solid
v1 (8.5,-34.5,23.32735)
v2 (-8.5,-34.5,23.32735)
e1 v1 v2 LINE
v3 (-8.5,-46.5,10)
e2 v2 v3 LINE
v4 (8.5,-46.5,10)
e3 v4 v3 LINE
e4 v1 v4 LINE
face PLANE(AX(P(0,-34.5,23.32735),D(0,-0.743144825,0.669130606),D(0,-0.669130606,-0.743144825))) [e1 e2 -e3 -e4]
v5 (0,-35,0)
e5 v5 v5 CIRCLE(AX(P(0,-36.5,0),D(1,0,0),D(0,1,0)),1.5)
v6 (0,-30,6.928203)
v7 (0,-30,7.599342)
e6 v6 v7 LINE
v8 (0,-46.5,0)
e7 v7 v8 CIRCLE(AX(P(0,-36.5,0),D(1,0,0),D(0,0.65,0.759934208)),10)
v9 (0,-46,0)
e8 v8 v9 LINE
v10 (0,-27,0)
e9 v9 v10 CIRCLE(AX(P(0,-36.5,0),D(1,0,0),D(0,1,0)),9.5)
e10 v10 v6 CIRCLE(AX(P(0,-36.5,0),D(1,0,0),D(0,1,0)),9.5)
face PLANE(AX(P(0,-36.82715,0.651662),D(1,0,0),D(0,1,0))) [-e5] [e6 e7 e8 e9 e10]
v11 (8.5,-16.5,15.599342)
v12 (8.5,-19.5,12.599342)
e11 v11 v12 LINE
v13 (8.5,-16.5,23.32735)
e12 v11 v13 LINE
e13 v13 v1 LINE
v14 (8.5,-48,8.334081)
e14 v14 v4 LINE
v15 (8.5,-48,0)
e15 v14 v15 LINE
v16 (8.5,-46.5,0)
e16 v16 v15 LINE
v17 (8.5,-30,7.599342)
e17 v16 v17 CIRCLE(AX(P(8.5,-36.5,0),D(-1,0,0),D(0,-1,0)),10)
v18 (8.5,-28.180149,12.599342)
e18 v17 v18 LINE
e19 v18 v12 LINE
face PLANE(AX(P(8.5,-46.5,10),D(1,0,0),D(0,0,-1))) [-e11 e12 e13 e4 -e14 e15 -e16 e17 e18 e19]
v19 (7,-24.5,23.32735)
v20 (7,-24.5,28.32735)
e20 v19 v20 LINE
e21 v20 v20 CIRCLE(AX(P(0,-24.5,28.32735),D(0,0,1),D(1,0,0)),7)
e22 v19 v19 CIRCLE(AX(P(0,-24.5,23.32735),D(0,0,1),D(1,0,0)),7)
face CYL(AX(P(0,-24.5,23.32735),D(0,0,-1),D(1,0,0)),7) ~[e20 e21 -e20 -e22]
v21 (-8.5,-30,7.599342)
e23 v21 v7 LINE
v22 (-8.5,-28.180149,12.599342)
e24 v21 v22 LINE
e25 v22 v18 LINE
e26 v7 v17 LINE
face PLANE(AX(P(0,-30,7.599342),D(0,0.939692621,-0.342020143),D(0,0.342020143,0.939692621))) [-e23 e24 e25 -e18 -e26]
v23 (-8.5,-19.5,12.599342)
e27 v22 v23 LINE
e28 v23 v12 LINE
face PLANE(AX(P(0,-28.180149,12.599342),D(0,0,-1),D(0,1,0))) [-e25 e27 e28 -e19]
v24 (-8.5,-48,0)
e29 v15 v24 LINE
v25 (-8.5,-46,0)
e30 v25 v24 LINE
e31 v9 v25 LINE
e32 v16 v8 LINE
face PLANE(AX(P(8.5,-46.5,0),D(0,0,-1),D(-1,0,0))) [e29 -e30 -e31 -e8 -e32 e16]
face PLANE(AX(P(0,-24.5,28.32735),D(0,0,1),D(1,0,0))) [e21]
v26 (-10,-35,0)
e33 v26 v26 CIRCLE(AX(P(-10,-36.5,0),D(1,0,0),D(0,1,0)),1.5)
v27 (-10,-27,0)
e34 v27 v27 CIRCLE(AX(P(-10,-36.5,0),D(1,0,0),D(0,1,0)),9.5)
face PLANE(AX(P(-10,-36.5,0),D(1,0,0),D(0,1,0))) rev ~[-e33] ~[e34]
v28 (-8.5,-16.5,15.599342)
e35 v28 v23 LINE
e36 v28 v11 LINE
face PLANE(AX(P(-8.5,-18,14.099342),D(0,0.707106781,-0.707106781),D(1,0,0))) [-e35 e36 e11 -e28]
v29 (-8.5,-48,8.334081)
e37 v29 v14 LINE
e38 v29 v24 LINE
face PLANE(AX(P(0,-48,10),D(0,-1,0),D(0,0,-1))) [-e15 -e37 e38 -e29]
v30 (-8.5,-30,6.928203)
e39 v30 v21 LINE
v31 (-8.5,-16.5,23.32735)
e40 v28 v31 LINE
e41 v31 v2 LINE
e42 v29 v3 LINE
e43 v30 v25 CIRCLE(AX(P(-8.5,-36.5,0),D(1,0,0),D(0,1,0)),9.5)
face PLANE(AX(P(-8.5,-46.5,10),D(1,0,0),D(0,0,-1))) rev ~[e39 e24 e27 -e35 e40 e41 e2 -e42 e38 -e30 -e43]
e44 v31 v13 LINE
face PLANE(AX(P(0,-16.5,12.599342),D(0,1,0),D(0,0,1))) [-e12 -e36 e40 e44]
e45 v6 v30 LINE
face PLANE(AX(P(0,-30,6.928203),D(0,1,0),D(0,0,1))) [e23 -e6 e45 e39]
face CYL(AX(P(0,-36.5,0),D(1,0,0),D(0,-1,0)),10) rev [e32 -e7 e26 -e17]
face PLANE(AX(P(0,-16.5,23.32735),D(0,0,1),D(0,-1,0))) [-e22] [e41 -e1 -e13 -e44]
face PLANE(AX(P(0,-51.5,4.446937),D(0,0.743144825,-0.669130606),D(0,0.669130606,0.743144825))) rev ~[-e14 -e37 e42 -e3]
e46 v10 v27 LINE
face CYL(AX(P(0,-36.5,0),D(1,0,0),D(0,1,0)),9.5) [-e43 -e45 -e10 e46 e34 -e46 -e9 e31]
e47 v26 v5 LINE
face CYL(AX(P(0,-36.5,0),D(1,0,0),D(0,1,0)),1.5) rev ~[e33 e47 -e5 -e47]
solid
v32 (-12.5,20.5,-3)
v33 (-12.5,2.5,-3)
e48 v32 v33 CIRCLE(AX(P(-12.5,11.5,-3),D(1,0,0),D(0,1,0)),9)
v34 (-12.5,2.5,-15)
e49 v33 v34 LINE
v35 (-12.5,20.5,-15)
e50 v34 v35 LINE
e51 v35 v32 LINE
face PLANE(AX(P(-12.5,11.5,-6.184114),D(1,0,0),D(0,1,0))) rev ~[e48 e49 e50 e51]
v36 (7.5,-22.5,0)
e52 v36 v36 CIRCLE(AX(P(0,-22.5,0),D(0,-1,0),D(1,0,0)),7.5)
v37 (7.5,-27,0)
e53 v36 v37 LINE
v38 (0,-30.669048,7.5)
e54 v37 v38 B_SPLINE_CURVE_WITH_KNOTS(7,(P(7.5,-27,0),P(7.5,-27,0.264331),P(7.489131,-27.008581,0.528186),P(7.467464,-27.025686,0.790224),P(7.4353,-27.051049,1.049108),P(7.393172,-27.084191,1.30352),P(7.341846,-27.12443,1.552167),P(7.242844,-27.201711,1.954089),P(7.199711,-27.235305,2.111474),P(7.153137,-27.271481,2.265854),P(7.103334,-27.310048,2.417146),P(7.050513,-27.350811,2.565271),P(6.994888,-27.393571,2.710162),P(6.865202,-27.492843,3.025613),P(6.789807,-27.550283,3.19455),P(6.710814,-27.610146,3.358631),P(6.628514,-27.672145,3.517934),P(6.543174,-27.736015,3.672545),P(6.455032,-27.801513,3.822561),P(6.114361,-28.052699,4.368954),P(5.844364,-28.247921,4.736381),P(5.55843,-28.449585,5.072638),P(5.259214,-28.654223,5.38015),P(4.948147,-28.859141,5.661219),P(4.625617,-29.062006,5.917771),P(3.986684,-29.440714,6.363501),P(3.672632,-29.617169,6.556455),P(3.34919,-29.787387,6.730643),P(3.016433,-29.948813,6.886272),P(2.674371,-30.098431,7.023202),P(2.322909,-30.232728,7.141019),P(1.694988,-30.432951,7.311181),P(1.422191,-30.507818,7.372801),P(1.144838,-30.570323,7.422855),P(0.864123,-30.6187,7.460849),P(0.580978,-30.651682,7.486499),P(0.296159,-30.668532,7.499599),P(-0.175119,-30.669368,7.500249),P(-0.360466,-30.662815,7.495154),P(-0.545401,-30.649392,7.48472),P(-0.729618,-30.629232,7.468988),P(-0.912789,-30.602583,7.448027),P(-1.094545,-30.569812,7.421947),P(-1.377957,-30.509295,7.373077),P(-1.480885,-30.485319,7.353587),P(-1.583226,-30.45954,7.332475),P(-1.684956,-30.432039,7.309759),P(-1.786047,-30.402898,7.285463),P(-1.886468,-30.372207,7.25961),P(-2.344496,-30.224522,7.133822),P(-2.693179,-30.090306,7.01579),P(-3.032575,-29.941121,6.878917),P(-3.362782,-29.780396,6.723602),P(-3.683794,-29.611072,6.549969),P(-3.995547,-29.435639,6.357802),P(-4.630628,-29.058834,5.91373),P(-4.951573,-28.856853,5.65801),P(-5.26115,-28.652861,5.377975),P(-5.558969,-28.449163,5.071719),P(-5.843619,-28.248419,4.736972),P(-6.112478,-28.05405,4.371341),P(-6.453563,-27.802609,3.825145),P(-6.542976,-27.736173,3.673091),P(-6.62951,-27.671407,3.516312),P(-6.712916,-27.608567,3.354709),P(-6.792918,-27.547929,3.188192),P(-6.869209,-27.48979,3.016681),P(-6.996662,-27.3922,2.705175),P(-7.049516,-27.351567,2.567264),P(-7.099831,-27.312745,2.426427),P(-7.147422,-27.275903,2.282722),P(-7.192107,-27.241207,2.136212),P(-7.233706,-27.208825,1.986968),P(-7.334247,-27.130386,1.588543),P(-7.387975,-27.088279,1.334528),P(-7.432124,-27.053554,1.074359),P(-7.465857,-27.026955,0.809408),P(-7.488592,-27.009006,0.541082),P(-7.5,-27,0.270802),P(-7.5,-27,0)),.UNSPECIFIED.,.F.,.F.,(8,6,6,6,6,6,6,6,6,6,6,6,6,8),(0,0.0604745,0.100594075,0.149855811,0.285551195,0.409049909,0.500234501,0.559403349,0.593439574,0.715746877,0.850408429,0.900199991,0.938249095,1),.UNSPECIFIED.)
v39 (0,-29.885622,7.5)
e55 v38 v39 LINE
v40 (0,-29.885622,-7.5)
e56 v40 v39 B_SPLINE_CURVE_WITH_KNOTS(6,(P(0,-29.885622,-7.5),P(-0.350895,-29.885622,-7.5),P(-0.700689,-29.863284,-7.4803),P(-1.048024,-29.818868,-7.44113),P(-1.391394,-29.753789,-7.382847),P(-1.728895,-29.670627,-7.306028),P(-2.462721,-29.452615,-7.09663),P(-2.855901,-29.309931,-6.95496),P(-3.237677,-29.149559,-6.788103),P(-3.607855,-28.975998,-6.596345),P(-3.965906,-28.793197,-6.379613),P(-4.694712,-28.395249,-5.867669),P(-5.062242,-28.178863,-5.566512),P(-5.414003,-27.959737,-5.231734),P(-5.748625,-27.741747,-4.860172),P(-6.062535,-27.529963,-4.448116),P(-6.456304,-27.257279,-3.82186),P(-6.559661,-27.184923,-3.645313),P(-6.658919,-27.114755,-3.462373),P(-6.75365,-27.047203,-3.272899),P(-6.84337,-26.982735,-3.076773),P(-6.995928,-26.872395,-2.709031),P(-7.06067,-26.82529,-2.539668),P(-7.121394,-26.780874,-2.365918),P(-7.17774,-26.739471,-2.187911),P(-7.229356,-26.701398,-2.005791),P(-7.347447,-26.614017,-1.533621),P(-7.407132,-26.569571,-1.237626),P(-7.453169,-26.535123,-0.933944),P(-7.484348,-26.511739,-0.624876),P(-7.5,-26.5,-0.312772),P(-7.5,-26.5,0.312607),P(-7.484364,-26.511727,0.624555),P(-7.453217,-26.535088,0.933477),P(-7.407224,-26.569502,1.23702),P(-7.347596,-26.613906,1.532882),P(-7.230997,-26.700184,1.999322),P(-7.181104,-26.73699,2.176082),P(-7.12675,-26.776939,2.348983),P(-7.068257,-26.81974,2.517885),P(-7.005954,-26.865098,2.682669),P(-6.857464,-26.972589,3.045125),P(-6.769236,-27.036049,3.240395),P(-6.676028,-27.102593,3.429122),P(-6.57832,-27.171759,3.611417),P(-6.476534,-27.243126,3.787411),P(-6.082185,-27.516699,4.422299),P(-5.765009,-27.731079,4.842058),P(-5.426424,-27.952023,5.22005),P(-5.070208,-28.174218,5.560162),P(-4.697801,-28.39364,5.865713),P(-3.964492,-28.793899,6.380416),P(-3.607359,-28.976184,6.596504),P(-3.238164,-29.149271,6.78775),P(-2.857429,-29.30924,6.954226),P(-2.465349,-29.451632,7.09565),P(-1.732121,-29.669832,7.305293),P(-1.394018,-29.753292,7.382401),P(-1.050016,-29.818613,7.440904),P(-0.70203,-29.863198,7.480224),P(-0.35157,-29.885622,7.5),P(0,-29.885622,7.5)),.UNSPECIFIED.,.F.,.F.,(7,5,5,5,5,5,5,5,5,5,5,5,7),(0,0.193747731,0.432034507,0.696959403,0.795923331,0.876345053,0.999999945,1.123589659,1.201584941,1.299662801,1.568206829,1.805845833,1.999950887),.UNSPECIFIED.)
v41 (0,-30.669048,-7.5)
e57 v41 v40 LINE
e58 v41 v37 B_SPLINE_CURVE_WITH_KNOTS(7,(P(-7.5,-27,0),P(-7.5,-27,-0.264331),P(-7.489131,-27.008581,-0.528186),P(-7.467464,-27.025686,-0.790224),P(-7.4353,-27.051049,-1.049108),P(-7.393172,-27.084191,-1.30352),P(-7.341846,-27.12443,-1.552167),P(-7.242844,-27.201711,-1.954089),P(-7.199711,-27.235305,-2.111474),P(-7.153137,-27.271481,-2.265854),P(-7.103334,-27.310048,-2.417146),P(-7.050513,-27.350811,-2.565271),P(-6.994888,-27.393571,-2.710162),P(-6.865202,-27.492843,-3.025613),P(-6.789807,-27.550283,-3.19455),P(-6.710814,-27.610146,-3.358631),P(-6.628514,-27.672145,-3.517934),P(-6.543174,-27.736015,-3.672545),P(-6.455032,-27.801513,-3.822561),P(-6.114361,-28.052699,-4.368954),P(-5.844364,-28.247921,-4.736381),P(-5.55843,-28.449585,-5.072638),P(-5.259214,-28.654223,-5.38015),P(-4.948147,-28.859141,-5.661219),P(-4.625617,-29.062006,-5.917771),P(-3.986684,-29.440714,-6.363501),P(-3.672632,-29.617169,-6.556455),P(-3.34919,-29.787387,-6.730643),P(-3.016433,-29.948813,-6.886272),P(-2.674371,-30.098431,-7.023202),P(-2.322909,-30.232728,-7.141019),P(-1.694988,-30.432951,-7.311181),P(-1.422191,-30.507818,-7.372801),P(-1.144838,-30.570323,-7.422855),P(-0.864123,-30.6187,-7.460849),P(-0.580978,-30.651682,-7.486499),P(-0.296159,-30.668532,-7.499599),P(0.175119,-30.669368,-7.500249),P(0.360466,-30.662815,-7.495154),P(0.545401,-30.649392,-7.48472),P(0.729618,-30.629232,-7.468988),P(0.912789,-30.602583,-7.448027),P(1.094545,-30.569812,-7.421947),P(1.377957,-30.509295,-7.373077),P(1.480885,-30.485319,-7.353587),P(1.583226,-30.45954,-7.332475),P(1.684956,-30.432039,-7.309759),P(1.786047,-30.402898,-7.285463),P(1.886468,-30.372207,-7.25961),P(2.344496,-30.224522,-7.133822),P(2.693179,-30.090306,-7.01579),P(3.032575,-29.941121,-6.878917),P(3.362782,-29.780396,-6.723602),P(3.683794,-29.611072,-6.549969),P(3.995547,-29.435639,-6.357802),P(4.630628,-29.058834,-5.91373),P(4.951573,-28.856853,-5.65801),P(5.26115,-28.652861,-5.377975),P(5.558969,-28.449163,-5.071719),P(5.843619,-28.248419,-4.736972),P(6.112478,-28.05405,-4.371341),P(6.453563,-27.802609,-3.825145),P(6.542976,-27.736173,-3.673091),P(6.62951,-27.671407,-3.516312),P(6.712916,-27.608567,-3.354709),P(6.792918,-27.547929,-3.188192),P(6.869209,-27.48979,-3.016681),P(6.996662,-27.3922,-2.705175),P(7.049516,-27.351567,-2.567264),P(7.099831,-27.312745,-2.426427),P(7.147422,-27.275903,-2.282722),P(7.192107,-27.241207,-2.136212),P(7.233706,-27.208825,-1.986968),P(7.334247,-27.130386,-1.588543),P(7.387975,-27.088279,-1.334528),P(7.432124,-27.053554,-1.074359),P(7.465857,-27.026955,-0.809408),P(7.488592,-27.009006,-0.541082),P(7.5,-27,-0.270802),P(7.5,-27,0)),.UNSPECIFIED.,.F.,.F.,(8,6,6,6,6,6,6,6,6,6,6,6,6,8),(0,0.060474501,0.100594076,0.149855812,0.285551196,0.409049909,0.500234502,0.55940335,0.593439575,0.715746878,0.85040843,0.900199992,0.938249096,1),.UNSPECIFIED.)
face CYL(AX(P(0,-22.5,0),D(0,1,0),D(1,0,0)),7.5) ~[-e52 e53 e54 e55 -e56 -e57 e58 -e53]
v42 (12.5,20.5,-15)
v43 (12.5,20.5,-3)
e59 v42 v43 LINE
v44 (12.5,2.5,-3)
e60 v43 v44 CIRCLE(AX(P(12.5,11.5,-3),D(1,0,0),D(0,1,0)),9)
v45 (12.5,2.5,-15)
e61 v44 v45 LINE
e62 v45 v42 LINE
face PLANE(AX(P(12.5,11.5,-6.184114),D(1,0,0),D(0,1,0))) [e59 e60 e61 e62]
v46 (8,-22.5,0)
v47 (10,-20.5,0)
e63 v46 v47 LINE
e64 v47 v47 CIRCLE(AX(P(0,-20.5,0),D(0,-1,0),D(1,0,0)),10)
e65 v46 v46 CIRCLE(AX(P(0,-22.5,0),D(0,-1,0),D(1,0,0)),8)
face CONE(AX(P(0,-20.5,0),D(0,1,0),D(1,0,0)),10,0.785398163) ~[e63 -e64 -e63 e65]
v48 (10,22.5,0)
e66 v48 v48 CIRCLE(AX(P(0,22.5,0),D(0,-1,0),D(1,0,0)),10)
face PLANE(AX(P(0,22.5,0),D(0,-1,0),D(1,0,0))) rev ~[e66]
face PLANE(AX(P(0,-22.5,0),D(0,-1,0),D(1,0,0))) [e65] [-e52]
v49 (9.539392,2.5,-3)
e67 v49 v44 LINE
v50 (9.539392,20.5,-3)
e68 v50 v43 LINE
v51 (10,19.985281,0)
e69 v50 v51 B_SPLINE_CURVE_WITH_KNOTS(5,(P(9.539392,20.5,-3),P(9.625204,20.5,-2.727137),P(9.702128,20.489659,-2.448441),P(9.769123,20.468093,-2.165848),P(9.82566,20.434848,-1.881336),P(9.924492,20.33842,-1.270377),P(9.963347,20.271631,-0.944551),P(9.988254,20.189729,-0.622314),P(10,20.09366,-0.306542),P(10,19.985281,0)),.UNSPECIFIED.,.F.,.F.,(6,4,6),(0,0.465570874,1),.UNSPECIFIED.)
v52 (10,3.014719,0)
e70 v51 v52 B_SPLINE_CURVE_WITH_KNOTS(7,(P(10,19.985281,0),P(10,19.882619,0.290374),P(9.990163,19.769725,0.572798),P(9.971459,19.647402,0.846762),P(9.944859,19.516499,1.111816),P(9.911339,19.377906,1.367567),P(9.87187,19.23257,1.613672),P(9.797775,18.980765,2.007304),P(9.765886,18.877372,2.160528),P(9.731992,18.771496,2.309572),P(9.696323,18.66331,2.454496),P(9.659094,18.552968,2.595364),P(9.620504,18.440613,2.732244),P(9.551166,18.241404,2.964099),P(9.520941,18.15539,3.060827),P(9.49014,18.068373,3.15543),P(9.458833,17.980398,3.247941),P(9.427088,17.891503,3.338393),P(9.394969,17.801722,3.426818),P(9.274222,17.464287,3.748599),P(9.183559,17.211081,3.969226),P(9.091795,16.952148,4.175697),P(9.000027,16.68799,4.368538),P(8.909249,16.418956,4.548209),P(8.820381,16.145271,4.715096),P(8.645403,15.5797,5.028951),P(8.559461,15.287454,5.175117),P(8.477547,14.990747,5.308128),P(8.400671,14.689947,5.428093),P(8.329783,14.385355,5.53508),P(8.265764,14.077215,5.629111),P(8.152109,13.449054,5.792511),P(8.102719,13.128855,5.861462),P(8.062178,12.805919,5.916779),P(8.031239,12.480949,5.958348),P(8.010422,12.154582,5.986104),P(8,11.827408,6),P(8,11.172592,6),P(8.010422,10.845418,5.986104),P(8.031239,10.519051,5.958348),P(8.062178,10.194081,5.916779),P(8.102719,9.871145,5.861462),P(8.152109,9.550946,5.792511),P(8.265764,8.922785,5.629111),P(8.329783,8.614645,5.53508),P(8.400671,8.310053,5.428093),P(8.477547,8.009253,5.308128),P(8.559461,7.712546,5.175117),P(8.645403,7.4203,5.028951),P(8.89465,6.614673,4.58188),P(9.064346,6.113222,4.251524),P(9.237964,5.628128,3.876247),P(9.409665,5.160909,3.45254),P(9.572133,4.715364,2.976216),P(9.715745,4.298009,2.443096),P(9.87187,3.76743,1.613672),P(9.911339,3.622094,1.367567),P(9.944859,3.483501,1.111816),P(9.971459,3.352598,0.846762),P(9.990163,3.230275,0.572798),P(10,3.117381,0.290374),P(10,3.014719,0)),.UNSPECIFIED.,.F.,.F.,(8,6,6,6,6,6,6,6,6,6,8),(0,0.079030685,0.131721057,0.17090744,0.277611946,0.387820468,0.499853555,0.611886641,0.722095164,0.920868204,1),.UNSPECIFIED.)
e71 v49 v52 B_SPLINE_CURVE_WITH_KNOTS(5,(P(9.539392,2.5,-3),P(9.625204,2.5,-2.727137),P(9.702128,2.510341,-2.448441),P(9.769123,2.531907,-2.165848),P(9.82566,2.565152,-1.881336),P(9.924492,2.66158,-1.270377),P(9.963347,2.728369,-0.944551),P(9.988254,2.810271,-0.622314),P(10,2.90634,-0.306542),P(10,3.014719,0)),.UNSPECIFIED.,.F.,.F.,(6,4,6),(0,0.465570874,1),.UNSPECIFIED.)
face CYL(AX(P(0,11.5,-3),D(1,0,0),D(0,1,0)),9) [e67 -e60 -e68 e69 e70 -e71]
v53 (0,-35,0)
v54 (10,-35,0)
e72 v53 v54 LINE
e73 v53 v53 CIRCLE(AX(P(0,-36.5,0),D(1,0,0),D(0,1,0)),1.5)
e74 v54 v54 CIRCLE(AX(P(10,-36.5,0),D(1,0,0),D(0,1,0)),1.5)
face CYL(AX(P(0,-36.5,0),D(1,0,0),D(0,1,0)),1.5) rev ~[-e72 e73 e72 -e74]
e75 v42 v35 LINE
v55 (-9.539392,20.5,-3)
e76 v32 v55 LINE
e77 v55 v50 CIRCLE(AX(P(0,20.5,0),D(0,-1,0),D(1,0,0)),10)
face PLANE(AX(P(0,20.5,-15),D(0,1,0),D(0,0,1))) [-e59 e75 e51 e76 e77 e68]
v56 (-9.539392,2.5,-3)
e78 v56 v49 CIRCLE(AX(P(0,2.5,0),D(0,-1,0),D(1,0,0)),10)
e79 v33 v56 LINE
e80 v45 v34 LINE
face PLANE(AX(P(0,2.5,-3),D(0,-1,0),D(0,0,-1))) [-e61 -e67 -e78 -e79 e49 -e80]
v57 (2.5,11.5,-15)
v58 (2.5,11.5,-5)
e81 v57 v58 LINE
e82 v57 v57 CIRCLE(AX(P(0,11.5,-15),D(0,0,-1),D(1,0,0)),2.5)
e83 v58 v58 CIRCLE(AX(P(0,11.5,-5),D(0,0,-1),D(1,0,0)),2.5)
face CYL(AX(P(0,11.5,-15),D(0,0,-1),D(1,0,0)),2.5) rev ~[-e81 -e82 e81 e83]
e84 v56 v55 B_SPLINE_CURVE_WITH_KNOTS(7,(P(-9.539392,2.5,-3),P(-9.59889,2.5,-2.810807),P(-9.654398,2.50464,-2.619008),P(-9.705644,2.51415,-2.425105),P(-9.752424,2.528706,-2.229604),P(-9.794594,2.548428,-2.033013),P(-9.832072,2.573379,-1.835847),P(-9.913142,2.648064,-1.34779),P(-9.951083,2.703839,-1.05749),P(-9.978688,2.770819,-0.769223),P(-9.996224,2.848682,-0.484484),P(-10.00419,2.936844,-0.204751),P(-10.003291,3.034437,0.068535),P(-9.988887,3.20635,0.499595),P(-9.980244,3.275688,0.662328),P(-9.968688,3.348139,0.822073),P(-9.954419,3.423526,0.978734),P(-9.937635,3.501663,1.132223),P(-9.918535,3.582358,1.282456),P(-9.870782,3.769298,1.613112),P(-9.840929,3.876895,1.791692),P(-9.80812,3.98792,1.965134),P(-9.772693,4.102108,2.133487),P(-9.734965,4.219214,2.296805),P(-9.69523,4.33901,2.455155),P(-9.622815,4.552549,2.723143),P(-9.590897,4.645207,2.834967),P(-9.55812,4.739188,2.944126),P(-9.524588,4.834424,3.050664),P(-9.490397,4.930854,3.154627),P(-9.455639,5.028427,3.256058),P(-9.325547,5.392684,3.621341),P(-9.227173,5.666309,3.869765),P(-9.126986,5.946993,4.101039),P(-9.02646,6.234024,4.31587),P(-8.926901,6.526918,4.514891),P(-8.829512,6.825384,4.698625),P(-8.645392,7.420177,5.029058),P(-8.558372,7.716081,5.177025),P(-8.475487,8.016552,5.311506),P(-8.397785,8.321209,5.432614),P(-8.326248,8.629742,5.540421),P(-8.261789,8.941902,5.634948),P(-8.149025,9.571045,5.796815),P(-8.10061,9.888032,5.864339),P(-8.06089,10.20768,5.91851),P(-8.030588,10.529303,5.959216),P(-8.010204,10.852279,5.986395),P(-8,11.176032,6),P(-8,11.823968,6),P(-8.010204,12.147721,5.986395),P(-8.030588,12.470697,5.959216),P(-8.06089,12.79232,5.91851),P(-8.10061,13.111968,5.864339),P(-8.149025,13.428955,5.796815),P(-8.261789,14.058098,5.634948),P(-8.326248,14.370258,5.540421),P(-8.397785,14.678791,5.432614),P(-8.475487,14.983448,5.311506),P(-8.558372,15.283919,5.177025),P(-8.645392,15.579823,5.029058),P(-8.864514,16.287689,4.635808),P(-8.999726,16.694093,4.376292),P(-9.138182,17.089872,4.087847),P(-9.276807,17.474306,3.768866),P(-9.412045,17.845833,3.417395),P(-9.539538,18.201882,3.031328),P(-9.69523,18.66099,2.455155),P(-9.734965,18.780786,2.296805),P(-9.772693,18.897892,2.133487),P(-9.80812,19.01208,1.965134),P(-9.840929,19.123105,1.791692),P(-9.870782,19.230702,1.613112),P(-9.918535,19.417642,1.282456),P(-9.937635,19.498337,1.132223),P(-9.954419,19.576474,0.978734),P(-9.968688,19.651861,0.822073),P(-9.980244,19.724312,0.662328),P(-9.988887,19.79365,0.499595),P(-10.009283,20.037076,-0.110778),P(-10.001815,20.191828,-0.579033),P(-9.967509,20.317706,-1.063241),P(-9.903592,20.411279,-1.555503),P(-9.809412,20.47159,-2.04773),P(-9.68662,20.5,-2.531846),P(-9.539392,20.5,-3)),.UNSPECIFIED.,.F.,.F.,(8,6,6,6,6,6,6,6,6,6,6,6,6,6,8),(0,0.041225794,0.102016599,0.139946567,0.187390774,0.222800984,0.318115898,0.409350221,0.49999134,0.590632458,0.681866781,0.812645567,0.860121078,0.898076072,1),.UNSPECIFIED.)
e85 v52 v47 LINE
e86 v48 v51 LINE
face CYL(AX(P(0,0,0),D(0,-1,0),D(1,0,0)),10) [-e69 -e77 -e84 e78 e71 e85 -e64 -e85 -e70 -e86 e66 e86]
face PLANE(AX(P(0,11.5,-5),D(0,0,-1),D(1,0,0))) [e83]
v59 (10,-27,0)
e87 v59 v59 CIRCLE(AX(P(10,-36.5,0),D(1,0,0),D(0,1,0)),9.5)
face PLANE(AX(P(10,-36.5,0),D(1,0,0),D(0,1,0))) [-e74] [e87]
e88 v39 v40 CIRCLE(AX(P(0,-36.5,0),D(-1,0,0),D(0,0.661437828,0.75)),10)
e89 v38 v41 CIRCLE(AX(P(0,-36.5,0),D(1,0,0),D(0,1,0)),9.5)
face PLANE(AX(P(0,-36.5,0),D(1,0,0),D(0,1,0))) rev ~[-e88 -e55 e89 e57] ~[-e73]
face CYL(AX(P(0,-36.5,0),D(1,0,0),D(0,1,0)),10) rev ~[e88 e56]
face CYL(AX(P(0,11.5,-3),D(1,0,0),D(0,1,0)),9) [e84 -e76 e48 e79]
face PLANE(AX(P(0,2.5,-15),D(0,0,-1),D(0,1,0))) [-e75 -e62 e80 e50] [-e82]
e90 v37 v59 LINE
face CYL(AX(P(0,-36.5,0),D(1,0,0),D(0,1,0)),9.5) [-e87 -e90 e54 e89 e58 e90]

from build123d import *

# Parameters (mm, degrees)
F0_R      = 10
F1_DEPTH  = 22.5
F2_R      = 7.5
F3_DEPTH  = 10
F4_R      = 9.5
F5_DEPTH  = 10
F6_SIZE   = 2
F8_DEPTH  = 8.5
F9_R      = 7
F10_DEPTH = 5
F11_R     = 10
F12_DEPTH = 25
F13_R     = 9.5
F14_DEPTH = 10
F16_DEPTH = 8.5
F17_DEPTH = 1.5
F19_DEPTH = 12.5
F20_R     = 1.5
F21_DEPTH = 12.5
F23_DEPTH = 12.5
F24_R     = 2.5
F25_DEPTH = 10
F26_SIZE  = 3


with BuildPart() as f1:
    # F0 (on Front) → F1 (new body, symmetric)
    with BuildSketch(Plane.XZ):
        Circle(F0_R)
    extrude(amount=F1_DEPTH, both=True)

    # F2 (on face) → F3 (join)
    with BuildSketch(Plane.XZ.offset(22.5)):
        Circle(F2_R)
    extrude(amount=F3_DEPTH)

    # F4 (on Right) → F5 (join, symmetric)
    with BuildSketch(Plane.YZ):
        with Locations((-36.5, 0)):
            Circle(F4_R)
    extrude(amount=F5_DEPTH, both=True)

    # F6
    f6_edges = [f1.edges().sort_by_distance(p)[0] for p in [
        (-10, -22.5, 0),
    ]]
    chamfer(f6_edges, length=F6_SIZE)

    # F11 (on Right) → F12 (cut)
    with BuildSketch(Plane.YZ):
        with Locations((-36.5, 0)):
            Circle(F11_R)
    extrude(amount=-F12_DEPTH, mode=Mode.SUBTRACT)


with BuildPart() as f8:
    # F7 (on Right) → F8 (new body, symmetric)
    with BuildSketch(Plane.YZ):
        with BuildLine():
            ThreePointArc((-46.5, 0), (-40.6833001327, 9.0829510623), (-30, 7.5993420768))
            Line((-30, 7.5993420768), (-28.1801488287, 12.5993420768))
            Line((-28.1801488287, 12.5993420768), (-16.5, 12.5993420768))
            Line((-16.5, 12.5993420768), (-16.5, 23.327350178))
            Line((-16.5, 23.327350178), (-34.5, 23.327350178))
            Line((-34.5, 23.327350178), (-46.5, 10))
            Line((-46.5, 10), (-46.5, 0))
        make_face()
    extrude(amount=F8_DEPTH, both=True)

    # F9 (on face) → F10 (join)
    with BuildSketch(Plane.XY.offset(23.327350178)):
        with Locations((0, -24.5)):
            Circle(F9_R)
    extrude(amount=F10_DEPTH)

    # F17 (add): a face of the model
    f17_faces = [f8.faces().sort_by_distance(p)[0] for p in [
        (0, -46.5, 5),
    ]]


with BuildPart() as f14:
    # F13 (on Right) → F14 (new body)
    with BuildSketch(Plane.YZ):
        with Locations((-36.5, 0)):
            Circle(F13_R)
    extrude(amount=-F14_DEPTH)

    # F15 (on Right) → F16 (join, through all)
    with BuildSketch(Plane.YZ):
        with BuildLine():
            Line((-30, 6.9282032303), (-30, 7.5993420768))
            ThreePointArc((-30, 7.5993420768), (-40.6833001327, 9.0829510623), (-46.5, 0))
            Line((-46.5, 0), (-46, 0))
            ThreePointArc((-46, 0), (-32.7250827824, -8.7177978871), (-30, 6.9282032303))
        make_face()
    extrude(amount=-F16_DEPTH)


with BuildPart() as f8_1:
    add(f8.part)

    add(f14.part)  # F17 merges F14
    extrude(f17_faces, amount=F17_DEPTH)

    # F18 (on Right) → F19 (cut, symmetric)
    with BuildSketch(Plane.YZ):
        Polygon((-51.5, 4.4469374259), (-46.5, 10), (-51.5, 10), align=None)
    extrude(amount=F19_DEPTH, both=True, mode=Mode.SUBTRACT)


with BuildPart() as f21_tool:
    # F20 (on Right) → F21 (new body, symmetric)
    with BuildSketch(Plane.YZ):
        with Locations((-36.5, 0)):
            Circle(F20_R)
    extrude(amount=F21_DEPTH, both=True)


with BuildPart() as f1_1:
    add(f1.part)

    # F21: cut by f21_tool
    add(f21_tool.part, mode=Mode.SUBTRACT)

    # F22 (on Right) → F23 (join, symmetric)
    with BuildSketch(Plane.YZ):
        with BuildLine():
            Line((20.5, -15), (20.5, -3))
            ThreePointArc((20.5, -3), (11.5, 6), (2.5, -3))
            Line((2.5, -3), (2.5, -15))
            Line((2.5, -15), (20.5, -15))
        make_face()
    extrude(amount=F23_DEPTH, both=True)

    # F24 (on face) → F25 (cut)
    with BuildSketch(Plane(origin=(0, 0, -15), x_dir=(1, 0, 0), z_dir=(0, 0, -1))):
        with Locations((0, -11.5)):
            Circle(F24_R)
    extrude(amount=-F25_DEPTH, mode=Mode.SUBTRACT)


with BuildPart() as f8_2:
    add(f8_1.part)

    # F21: cut by f21_tool
    add(f21_tool.part, mode=Mode.SUBTRACT)

    # F26
    f26_edges = [f8_2.edges().sort_by_distance(p)[0] for p in [
        (0, -16.5, 12.599342),
    ]]
    chamfer(f26_edges, length=F26_SIZE)


solid = Compound([f1_1.part, f8_2.part])
